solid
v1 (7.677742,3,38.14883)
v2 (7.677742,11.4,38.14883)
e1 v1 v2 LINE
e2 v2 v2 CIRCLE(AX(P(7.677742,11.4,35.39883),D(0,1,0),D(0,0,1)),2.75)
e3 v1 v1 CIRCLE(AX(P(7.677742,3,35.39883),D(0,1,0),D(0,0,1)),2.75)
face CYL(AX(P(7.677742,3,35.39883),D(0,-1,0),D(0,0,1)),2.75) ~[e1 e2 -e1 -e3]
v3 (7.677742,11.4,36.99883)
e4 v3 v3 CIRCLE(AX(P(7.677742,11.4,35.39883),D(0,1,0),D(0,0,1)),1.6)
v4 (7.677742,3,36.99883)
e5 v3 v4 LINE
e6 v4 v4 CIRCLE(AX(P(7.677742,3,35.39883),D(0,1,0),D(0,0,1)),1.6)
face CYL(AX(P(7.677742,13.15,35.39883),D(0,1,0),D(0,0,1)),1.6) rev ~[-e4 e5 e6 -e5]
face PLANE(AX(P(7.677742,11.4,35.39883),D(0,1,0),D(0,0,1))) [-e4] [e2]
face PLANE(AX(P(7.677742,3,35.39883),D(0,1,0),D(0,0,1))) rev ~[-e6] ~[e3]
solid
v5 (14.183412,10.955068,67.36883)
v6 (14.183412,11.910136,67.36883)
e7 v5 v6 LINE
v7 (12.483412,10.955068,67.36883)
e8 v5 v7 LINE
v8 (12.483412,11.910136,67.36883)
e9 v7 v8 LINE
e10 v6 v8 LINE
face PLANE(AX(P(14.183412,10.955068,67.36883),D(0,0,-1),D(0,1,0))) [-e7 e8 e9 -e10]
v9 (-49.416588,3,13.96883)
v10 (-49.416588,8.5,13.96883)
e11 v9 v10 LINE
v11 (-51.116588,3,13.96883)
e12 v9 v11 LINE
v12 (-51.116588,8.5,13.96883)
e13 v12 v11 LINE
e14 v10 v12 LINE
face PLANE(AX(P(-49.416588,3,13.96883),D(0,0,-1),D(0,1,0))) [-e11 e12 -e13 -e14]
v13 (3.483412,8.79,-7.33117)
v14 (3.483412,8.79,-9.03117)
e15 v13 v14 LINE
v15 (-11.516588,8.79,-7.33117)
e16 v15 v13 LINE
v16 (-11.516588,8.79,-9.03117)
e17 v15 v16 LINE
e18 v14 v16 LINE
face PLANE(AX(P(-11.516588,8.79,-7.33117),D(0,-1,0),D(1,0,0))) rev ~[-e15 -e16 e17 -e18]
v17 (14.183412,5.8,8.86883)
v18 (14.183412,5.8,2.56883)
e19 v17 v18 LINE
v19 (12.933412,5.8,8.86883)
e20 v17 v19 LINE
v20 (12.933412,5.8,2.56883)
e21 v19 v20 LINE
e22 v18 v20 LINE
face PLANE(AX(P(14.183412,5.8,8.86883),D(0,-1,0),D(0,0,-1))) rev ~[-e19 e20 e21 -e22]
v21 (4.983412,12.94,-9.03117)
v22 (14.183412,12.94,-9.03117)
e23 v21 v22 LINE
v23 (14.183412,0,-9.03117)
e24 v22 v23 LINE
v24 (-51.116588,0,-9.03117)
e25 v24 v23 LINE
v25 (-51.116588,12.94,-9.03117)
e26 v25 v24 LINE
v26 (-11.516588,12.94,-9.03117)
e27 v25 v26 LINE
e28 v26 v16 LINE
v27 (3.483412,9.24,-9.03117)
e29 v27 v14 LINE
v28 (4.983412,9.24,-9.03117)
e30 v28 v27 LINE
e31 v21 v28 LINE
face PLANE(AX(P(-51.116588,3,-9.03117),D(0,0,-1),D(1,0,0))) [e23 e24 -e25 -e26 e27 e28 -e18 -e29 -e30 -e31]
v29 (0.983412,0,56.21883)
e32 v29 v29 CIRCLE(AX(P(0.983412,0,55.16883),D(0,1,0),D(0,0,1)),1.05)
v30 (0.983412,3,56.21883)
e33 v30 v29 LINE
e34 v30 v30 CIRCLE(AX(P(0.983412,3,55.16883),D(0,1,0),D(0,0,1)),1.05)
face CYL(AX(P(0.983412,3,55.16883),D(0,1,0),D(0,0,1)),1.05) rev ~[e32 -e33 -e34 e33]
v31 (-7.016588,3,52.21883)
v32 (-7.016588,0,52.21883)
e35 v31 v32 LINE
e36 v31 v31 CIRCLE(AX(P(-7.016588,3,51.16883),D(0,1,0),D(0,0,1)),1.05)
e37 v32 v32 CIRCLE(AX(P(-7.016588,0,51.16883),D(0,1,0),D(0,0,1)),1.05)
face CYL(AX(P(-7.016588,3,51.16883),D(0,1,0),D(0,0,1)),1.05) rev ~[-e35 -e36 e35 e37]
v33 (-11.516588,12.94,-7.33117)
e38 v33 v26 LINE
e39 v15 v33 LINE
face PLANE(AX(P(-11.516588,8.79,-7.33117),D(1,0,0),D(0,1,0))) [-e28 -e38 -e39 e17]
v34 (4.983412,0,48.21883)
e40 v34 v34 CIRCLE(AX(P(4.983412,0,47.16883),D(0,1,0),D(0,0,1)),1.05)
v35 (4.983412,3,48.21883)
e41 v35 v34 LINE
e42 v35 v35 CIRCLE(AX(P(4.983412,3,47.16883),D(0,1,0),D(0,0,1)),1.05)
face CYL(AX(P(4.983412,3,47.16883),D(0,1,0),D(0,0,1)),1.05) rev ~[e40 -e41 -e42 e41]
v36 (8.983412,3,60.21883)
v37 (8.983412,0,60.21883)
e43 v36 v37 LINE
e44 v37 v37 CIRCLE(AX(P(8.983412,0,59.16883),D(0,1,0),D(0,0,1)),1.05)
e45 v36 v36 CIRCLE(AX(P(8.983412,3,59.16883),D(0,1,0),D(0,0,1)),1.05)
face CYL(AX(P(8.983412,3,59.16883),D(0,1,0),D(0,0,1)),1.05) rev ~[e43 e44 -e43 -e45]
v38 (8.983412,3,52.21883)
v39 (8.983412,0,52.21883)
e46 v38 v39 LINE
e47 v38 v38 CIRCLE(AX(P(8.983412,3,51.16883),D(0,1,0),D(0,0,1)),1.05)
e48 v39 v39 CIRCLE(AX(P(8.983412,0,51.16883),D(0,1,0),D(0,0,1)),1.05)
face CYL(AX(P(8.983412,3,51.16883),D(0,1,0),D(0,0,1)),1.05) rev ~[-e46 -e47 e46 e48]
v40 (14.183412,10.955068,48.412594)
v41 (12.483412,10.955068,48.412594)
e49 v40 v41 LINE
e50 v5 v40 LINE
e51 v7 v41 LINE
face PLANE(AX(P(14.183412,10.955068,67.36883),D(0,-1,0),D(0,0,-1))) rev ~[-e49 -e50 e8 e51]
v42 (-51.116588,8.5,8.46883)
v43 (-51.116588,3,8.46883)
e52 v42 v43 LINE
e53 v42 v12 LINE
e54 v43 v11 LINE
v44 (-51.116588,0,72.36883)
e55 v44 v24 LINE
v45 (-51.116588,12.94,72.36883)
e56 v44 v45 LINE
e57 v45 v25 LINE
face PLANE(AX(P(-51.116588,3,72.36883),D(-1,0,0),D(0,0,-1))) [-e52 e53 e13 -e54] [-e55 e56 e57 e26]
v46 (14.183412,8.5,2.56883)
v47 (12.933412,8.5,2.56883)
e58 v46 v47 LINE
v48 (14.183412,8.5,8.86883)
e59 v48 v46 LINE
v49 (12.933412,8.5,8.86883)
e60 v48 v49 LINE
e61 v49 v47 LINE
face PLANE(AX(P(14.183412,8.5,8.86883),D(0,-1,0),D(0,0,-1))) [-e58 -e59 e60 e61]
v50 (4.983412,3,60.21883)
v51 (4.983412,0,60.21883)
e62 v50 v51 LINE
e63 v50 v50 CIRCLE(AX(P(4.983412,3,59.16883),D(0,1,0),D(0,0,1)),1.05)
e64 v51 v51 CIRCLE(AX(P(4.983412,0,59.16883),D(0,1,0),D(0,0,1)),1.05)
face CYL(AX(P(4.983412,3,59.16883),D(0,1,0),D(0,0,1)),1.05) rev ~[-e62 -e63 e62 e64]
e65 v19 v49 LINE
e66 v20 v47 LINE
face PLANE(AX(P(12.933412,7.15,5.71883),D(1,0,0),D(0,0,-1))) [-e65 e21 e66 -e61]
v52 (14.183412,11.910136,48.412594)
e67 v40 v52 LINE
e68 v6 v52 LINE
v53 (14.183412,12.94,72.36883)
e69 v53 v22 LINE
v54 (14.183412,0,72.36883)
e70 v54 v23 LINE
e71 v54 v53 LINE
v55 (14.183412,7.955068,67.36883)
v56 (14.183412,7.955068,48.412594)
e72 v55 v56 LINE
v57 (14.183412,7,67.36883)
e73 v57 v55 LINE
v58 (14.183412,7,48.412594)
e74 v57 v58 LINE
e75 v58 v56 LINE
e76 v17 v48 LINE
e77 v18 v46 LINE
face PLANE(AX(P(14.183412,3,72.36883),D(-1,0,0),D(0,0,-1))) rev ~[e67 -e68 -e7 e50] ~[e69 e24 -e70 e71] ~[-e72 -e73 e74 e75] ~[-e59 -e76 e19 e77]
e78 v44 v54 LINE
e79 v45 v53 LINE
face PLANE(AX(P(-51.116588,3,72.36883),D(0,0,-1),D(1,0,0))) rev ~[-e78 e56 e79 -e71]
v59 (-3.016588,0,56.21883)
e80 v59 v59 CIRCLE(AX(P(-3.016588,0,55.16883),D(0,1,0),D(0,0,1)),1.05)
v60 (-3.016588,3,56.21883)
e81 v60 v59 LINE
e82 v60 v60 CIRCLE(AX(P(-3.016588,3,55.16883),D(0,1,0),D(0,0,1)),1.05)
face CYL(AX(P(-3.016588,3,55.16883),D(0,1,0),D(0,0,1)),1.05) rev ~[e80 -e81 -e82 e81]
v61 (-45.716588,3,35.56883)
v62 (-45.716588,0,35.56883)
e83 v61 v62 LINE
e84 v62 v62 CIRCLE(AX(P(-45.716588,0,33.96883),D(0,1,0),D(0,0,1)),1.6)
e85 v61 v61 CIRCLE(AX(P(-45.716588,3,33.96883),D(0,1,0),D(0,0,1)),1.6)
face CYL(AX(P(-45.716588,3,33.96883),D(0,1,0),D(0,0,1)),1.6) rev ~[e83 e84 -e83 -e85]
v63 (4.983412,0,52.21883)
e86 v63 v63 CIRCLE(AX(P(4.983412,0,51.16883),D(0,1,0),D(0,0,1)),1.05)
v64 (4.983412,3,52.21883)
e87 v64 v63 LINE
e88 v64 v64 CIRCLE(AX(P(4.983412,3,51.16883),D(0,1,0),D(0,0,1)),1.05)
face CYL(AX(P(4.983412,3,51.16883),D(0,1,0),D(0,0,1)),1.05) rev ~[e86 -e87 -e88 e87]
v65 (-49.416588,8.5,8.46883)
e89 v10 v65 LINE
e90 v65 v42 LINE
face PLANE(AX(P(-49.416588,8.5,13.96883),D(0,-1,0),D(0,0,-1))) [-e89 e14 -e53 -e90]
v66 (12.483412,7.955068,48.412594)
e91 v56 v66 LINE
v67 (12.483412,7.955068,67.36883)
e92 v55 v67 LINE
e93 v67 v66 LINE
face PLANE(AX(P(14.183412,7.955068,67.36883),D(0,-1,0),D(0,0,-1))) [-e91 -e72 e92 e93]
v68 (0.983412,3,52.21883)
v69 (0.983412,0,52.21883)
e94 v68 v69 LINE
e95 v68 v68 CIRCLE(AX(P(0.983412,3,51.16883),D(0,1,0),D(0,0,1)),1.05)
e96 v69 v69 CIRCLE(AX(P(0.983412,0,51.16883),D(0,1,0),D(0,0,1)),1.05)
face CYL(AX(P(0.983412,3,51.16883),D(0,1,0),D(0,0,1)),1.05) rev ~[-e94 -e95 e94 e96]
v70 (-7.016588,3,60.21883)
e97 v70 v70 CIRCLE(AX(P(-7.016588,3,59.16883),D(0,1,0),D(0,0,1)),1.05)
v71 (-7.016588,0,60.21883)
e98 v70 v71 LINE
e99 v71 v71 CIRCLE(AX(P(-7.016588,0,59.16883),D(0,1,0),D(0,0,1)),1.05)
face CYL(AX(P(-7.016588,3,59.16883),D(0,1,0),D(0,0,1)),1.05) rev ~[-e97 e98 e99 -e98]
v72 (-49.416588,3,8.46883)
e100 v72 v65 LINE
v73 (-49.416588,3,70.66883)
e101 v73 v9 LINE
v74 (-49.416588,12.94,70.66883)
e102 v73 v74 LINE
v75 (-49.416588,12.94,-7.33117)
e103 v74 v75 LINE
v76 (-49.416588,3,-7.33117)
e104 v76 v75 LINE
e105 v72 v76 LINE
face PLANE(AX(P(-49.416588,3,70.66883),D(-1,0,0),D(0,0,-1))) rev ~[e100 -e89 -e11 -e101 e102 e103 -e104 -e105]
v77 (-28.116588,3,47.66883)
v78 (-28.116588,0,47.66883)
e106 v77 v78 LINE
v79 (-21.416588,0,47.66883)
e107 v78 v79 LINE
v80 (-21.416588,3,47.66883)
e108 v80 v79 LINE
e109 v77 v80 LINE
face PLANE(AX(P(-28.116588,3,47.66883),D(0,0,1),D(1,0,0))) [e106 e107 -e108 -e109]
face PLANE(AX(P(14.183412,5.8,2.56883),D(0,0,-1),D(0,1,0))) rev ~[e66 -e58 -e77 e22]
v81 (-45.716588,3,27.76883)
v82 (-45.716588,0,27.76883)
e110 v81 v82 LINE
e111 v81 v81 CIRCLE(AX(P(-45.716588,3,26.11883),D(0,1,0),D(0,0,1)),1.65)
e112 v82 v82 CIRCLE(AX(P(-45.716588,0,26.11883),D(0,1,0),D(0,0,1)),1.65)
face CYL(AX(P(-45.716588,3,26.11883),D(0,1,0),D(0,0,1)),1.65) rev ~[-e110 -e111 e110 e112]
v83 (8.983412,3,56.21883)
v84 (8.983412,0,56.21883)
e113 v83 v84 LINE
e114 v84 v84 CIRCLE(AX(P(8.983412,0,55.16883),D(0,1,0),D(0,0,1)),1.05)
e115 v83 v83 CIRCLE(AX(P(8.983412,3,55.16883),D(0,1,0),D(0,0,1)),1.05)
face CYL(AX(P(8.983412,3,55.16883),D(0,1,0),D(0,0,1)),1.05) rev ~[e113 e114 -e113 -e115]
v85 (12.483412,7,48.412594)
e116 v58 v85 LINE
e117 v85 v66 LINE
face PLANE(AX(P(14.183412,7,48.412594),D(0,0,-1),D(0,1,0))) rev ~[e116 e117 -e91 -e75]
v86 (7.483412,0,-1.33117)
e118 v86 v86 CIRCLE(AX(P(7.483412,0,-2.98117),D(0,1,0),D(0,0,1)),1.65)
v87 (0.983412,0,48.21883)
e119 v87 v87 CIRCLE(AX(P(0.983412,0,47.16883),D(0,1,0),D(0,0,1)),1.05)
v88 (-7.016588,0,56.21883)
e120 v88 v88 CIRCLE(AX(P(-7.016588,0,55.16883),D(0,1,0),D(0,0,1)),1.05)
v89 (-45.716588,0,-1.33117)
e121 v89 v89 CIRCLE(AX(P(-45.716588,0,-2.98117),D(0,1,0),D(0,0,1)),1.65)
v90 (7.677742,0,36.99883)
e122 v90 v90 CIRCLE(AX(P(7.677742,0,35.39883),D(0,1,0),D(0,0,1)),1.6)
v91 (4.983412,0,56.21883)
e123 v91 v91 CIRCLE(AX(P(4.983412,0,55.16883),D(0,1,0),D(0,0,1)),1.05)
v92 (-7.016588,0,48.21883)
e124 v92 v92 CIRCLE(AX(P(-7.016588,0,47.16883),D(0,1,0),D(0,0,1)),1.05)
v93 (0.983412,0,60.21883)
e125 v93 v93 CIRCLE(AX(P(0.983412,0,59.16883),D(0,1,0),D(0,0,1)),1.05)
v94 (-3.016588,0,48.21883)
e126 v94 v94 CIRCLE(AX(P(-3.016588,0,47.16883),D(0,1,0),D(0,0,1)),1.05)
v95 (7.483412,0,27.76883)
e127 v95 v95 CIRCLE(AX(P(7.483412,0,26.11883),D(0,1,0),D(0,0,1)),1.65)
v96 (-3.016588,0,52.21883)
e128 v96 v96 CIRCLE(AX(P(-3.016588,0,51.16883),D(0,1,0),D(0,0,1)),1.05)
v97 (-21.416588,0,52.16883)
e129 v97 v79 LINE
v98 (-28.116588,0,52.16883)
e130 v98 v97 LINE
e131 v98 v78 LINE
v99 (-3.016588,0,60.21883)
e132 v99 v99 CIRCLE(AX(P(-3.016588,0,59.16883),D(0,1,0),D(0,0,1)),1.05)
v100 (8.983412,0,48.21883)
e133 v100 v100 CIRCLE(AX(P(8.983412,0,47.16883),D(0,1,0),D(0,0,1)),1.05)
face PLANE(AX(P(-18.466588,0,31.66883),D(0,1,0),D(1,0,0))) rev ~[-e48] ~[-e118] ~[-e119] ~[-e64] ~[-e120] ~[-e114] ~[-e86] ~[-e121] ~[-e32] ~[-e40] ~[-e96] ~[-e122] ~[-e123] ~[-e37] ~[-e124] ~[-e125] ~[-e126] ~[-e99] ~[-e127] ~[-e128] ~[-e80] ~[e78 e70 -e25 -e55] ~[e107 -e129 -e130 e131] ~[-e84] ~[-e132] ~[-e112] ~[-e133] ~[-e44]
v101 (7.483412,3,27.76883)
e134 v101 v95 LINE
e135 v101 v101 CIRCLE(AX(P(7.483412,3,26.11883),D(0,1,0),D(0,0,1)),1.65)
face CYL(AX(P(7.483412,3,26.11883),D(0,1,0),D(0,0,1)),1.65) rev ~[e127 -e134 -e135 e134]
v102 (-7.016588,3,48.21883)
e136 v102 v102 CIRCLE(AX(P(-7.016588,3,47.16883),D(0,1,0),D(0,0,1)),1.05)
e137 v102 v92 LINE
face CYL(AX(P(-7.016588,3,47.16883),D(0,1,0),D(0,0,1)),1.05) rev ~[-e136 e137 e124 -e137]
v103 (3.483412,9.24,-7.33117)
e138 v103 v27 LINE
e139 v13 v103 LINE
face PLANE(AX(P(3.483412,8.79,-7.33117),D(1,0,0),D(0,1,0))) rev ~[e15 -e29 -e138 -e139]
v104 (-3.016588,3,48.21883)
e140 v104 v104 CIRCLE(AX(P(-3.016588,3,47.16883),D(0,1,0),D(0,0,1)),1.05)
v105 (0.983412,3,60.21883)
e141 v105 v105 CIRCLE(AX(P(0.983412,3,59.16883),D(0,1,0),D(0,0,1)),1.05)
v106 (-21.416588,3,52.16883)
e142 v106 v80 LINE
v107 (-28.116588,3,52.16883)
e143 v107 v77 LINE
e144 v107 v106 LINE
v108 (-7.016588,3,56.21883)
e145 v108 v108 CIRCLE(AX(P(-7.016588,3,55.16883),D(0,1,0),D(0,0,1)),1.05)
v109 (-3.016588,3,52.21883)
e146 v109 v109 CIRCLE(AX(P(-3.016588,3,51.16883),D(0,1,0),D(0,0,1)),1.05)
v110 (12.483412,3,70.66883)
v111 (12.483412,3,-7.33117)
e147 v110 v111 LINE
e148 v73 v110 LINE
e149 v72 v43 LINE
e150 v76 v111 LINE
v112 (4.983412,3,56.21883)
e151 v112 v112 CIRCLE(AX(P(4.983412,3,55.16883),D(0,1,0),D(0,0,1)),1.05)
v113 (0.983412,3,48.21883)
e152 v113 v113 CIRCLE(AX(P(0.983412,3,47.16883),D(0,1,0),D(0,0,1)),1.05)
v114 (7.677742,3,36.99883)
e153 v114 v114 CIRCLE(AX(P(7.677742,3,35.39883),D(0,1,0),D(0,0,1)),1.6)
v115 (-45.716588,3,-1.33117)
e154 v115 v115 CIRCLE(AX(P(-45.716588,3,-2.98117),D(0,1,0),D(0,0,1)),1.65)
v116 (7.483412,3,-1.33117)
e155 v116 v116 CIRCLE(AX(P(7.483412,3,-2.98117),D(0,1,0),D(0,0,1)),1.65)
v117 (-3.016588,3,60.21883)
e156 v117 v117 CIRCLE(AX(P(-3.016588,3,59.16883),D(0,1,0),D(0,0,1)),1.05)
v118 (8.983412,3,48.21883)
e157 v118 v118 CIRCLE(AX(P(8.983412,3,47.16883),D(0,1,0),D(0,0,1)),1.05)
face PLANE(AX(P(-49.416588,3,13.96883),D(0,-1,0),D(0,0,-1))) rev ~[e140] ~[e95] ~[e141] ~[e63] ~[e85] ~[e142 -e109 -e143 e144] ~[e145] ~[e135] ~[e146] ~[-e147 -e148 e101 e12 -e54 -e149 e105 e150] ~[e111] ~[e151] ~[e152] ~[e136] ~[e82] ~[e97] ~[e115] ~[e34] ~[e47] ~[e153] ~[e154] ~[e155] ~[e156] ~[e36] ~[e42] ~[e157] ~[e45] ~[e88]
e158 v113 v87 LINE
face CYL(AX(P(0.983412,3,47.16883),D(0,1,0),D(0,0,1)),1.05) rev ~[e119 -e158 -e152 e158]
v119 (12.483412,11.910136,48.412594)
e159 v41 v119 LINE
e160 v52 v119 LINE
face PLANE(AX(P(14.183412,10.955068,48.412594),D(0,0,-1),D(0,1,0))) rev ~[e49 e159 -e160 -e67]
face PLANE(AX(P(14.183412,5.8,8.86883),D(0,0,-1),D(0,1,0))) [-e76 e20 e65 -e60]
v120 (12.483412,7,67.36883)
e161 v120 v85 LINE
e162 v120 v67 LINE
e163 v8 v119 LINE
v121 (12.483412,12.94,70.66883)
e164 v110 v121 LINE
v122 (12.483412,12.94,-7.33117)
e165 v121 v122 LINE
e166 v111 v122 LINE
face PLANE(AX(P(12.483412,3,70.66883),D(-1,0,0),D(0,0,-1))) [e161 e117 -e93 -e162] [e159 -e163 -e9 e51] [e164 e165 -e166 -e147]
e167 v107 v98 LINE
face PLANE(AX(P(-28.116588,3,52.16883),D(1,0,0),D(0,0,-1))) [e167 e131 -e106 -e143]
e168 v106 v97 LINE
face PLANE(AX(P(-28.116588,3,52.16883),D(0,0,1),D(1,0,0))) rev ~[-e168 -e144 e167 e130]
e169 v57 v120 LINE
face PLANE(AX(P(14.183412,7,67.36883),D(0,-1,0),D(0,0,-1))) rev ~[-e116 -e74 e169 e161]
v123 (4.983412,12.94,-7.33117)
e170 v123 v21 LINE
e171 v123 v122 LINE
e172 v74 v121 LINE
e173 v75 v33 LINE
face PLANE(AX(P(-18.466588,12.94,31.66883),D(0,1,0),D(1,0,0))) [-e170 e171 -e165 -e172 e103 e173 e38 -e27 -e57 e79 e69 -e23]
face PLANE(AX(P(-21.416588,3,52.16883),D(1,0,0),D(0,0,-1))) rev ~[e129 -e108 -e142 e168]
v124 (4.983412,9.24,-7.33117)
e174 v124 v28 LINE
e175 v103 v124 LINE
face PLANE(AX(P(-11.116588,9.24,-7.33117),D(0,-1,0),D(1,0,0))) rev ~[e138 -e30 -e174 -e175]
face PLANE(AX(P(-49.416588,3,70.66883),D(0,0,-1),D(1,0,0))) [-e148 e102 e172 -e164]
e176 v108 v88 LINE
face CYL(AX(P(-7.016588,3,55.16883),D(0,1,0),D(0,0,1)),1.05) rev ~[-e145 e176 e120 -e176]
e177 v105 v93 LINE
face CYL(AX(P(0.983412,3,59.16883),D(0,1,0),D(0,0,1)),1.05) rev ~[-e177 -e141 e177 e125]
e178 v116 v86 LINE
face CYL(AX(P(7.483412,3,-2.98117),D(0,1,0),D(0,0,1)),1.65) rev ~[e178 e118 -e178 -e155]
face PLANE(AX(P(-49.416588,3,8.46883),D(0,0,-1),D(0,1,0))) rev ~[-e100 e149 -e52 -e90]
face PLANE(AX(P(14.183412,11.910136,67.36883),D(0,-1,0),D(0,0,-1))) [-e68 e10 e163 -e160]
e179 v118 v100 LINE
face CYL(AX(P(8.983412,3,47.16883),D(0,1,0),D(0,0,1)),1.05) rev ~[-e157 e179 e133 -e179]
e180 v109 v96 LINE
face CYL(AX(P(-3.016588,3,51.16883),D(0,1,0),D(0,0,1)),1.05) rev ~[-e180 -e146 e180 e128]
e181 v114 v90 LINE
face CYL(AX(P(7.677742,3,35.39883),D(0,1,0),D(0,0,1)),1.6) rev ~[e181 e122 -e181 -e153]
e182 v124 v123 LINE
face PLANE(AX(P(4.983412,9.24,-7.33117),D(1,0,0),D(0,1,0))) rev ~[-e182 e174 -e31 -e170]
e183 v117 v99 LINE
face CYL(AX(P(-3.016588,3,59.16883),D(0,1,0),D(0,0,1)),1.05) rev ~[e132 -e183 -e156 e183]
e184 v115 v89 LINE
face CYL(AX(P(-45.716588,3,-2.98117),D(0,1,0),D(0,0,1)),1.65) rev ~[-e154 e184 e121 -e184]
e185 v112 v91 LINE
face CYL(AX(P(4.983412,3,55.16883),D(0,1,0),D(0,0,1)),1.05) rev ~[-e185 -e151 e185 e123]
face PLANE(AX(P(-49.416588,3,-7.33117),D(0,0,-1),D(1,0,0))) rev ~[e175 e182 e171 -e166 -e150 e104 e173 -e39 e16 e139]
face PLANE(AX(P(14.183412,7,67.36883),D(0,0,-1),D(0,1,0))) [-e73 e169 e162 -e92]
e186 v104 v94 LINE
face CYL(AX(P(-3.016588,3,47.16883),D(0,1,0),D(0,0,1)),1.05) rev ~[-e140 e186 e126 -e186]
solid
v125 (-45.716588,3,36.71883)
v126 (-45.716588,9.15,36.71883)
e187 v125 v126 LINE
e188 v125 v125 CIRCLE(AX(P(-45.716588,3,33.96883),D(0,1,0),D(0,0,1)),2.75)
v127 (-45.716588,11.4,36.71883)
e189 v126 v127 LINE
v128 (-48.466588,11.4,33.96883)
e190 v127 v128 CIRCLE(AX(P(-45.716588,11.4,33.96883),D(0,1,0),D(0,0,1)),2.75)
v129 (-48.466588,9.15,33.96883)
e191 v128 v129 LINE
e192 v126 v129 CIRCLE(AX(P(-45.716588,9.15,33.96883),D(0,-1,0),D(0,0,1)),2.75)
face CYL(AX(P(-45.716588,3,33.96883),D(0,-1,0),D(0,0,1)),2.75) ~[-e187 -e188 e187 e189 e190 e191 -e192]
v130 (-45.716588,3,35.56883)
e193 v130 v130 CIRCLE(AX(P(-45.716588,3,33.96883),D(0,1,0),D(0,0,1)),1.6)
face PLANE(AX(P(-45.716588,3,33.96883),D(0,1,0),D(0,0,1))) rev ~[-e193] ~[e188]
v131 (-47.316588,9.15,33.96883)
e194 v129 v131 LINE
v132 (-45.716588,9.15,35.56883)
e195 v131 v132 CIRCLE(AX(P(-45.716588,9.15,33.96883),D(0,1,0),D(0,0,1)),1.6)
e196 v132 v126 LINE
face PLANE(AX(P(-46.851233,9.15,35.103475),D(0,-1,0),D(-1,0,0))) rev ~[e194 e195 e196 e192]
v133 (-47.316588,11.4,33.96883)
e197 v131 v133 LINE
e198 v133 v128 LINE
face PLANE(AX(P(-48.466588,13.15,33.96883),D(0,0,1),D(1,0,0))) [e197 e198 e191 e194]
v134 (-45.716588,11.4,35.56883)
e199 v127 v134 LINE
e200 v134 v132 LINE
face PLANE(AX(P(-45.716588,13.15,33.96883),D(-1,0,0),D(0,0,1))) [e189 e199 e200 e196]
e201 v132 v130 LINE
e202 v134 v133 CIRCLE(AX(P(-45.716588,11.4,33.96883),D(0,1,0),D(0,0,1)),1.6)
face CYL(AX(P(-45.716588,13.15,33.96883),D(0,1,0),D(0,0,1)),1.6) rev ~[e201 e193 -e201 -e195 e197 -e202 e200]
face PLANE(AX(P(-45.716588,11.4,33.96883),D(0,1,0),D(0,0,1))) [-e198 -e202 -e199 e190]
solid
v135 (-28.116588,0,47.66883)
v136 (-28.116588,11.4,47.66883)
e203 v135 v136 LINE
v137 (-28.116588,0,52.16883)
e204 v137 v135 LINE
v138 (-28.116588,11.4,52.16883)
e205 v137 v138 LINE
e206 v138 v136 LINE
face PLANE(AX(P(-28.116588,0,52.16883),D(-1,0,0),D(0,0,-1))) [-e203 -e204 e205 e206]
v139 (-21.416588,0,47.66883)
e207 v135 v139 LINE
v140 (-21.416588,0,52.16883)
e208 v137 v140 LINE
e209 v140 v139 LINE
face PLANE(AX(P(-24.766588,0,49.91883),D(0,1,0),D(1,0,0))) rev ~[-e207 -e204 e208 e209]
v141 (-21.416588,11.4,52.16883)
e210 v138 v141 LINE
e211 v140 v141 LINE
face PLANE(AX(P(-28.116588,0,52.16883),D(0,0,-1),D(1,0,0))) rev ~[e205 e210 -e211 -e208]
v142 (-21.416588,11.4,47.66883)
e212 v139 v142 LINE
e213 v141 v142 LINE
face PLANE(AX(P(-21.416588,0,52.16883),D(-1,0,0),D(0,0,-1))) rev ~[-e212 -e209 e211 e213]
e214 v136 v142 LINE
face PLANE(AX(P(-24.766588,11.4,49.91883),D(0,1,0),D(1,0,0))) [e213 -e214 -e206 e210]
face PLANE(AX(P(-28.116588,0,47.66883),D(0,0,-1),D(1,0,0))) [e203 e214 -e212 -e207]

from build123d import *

# Parameters (mm, degrees)
SKETCH2_W                = 65.3
SKETCH2_H                = 81.4
BOSS_EXTRUDE1_DEPTH      = 3
SKETCH3_W                = 65.3
SKETCH3_H                = 81.4
SKETCH3_W_2              = 61.9
SKETCH3_H_2              = 78
BOSS_EXTRUDE2_DEPTH      = 9.94
SKETCH4_R                = 1.65
SKETCH4_R_2              = 1.6
SKETCH4_W                = 6.7
SKETCH4_H                = 4.5
CUT_EXTRUDE1_DEPTH       = 90.156922291
BOSS_EXTRUDE3_DEPTH      = 10.15
BOSS_EXTRUDE3_DEPTH_BACK = 3
SKETCH5_W                = 6.7
SKETCH5_H                = 4.5
SKETCH6_R                = 2.75
BOSS_EXTRUDE4_DEPTH      = 10.15
BOSS_EXTRUDE4_2_DEPTH    = 10.15
CUT_EXTRUDE2_DEPTH       = 4
SKETCH17_R               = 1.6
CUT_EXTRUDE11_DEPTH      = 90.571623254
SKETCH19_W               = 5.5
SKETCH19_H               = 5.5
CUT_EXTRUDE12_DEPTH      = 98.237493387
SKETCH20_W               = 15
SKETCH20_H               = 4.15
CUT_EXTRUDE13_DEPTH      = 96.592458239
SKETCH21_R               = 2.75
CUT_EXTRUDE14_DEPTH      = 1.75
SKETCH22_R               = 2.75
CUT_EXTRUDE15_DEPTH      = 1.75
SKETCH23_W               = 6.7
SKETCH23_H               = 4.5
CUT_EXTRUDE16_DEPTH      = 1.75
SKETCH10_R               = 1.05
CUT_EXTRUDE5_DEPTH       = 90.156922291
SKETCH11_W               = 6.3
SKETCH11_H               = 2.7
CUT_EXTRUDE6_DEPTH       = 1.25
SKETCH15_W               = 16.1
SKETCH15_H               = 3.7
CUT_EXTRUDE9_DEPTH       = 96.563796347
SKETCH16_W               = 18.956236151
SKETCH16_H               = 0.955067826
CUT_EXTRUDE10_DEPTH      = 1.7


with BuildPart() as part:
    # Sketch2 → Boss-Extrude1 (new body)
    with BuildSketch(Plane(origin=(0, 0, 0), x_dir=(1, 0, 0), z_dir=(0, 1, 0))):
        with Locations((-18.466588034, -31.668830446)):
            Rectangle(SKETCH2_W, SKETCH2_H)
    extrude(amount=BOSS_EXTRUDE1_DEPTH)

    # Sketch3 → Boss-Extrude2 (add)
    with BuildSketch(Plane(origin=(0, 3, 0), x_dir=(1, 0, 0), z_dir=(0, 1, 0))):
        with Locations((-18.466588034, -31.668830446)):
            Rectangle(SKETCH3_W, SKETCH3_H)
        with Locations((-18.466588034, -31.668830446)):
            Rectangle(SKETCH3_W_2, SKETCH3_H_2, mode=Mode.SUBTRACT)
    extrude(amount=BOSS_EXTRUDE2_DEPTH)

    # Sketch4 → Cut-Extrude1 (cut, through all)
    with BuildSketch(Plane(origin=(0, 3, 0), x_dir=(1, 0, 0), z_dir=(0, 1, 0))):
        with Locations(Location((-45.716588034, 2.981169554, 0), (0, 0, 270))):
            Circle(SKETCH4_R)
        with Locations(Location((-45.716588034, -26.118830446, 0), (0, 0, 270))):
            Circle(SKETCH4_R)
        with Locations(Location((7.483411966, 2.981169554, 0), (0, 0, 270))):
            Circle(SKETCH4_R)
        with Locations(Location((7.483411966, -26.118830446, 0), (0, 0, 270))):
            Circle(SKETCH4_R)
        with Locations(Location((-45.716588034, -33.968830446, 0), (0, 0, 270))):
            Circle(SKETCH4_R_2)
        with Locations(Location((7.677742326, -35.398830446, 0), (0, 0, 270))):
            Circle(SKETCH4_R_2)
        with Locations((-24.766588034, -49.918830446)):
            Rectangle(SKETCH4_W, SKETCH4_H)
    extrude(amount=-CUT_EXTRUDE1_DEPTH, mode=Mode.SUBTRACT)

    # Sketch19 → Cut-Extrude12 (cut, through all)
    with BuildSketch(Plane(origin=(-49.416588034, 0, 0), x_dir=(0, 0, -1), z_dir=(1, 0, 0))):
        with Locations((-11.218830446, 5.75)):
            Rectangle(SKETCH19_W, SKETCH19_H)
    extrude(amount=-CUT_EXTRUDE12_DEPTH, mode=Mode.SUBTRACT)

    # Sketch20 → Cut-Extrude13 (cut, through all)
    with BuildSketch(Plane.XY.offset(-7.331169554)):
        with Locations((-4.016588034, 10.865)):
            Rectangle(SKETCH20_W, SKETCH20_H)
    extrude(amount=-CUT_EXTRUDE13_DEPTH, mode=Mode.SUBTRACT)

    # Sketch10 → Cut-Extrude5 (cut, through all)
    with BuildSketch(Plane(origin=(0, 3, 0), x_dir=(1, 0, 0), z_dir=(0, 1, 0))):
        with Locations(Location((-7.016588034, -47.168830446, 0), (0, 0, 270))):
            Circle(SKETCH10_R)
        with Locations(Location((-3.016588034, -47.168830446, 0), (0, 0, 270))):
            Circle(SKETCH10_R)
        with Locations(Location((0.983411966, -47.168830446, 0), (0, 0, 270))):
            Circle(SKETCH10_R)
        with Locations(Location((4.983411966, -47.168830446, 0), (0, 0, 270))):
            Circle(SKETCH10_R)
        with Locations(Location((8.983411966, -47.168830446, 0), (0, 0, 270))):
            Circle(SKETCH10_R)
        with Locations(Location((-3.016588034, -51.168830446, 0), (0, 0, 270))):
            Circle(SKETCH10_R)
        with Locations(Location((0.983411966, -51.168830446, 0), (0, 0, 270))):
            Circle(SKETCH10_R)
        with Locations(Location((4.983411966, -51.168830446, 0), (0, 0, 270))):
            Circle(SKETCH10_R)
        with Locations(Location((8.983411966, -51.168830446, 0), (0, 0, 270))):
            Circle(SKETCH10_R)
        with Locations(Location((-3.016588034, -55.168830446, 0), (0, 0, 270))):
            Circle(SKETCH10_R)
        with Locations(Location((0.983411966, -55.168830446, 0), (0, 0, 270))):
            Circle(SKETCH10_R)
        with Locations(Location((4.983411966, -55.168830446, 0), (0, 0, 270))):
            Circle(SKETCH10_R)
        with Locations(Location((8.983411966, -55.168830446, 0), (0, 0, 270))):
            Circle(SKETCH10_R)
        with Locations(Location((-3.016588034, -59.168830446, 0), (0, 0, 270))):
            Circle(SKETCH10_R)
        with Locations(Location((0.983411966, -59.168830446, 0), (0, 0, 270))):
            Circle(SKETCH10_R)
        with Locations(Location((4.983411966, -59.168830446, 0), (0, 0, 270))):
            Circle(SKETCH10_R)
        with Locations(Location((8.983411966, -59.168830446, 0), (0, 0, 270))):
            Circle(SKETCH10_R)
        with Locations(Location((-7.016588034, -51.168830446, 0), (0, 0, 270))):
            Circle(SKETCH10_R)
        with Locations(Location((-7.016588034, -55.168830446, 0), (0, 0, 270))):
            Circle(SKETCH10_R)
        with Locations(Location((-7.016588034, -59.168830446, 0), (0, 0, 270))):
            Circle(SKETCH10_R)
    extrude(amount=-CUT_EXTRUDE5_DEPTH, mode=Mode.SUBTRACT)

    # Sketch11 → Cut-Extrude6 (cut)
    with BuildSketch(Plane(origin=(14.183411966, 0, 0), x_dir=(0, 0, -1), z_dir=(1, 0, 0))):
        with Locations((-5.718830446, 7.15)):
            Rectangle(SKETCH11_W, SKETCH11_H)
    extrude(amount=-CUT_EXTRUDE6_DEPTH, mode=Mode.SUBTRACT)

    # Sketch15 → Cut-Extrude9 (cut, through all)
    with BuildSketch(Plane.XY.offset(-7.331169554)):
        with Locations((-3.066588034, 11.09)):
            Rectangle(SKETCH15_W, SKETCH15_H)
    extrude(amount=-CUT_EXTRUDE9_DEPTH, mode=Mode.SUBTRACT)

    # Sketch16 → Cut-Extrude10 (cut)
    with BuildSketch(Plane(origin=(14.183411966, 0, 0), x_dir=(0, 0, -1), z_dir=(1, 0, 0))):
        with Locations((-57.890712371, 11.432601739)):
            Rectangle(SKETCH16_W, SKETCH16_H)
        with Locations((-57.890712371, 7.477533913)):
            Rectangle(SKETCH16_W, SKETCH16_H)
    extrude(amount=-CUT_EXTRUDE10_DEPTH, mode=Mode.SUBTRACT)


with BuildPart() as body_2:
    # Sketch5 → Boss-Extrude3 (new, two sides: drawn at the far end of the back side and taken through both)
    with BuildSketch(Plane(origin=(0, 3, 0), x_dir=(1, 0, 0), z_dir=(0, 1, 0)).offset(-BOSS_EXTRUDE3_DEPTH_BACK)):
        with Locations((-24.766588034, -49.918830446)):
            Rectangle(SKETCH5_W, SKETCH5_H)
    extrude(amount=BOSS_EXTRUDE3_DEPTH + BOSS_EXTRUDE3_DEPTH_BACK)

    # Sketch23 → Cut-Extrude16 (cut)
    with BuildSketch(Plane(origin=(0, 13.15, 0), x_dir=(1, 0, 0), z_dir=(0, 1, 0))):
        with Locations((-24.766588034, -49.918830446)):
            Rectangle(SKETCH23_W, SKETCH23_H)
    extrude(amount=-CUT_EXTRUDE16_DEPTH, mode=Mode.SUBTRACT)


with BuildPart() as body_3:
    # Sketch6 → Boss-Extrude4 (new body)
    with BuildSketch(Plane(origin=(0, 3, 0), x_dir=(1, 0, 0), z_dir=(0, 1, 0))):
        with Locations(Location((-45.716588034, -33.968830446, 0), (0, 0, 270))):
            Circle(SKETCH6_R)
    extrude(amount=BOSS_EXTRUDE4_DEPTH)

    # Sketch7 → Cut-Extrude2 (cut)
    with BuildSketch(Plane(origin=(0, 13.15, 0), x_dir=(1, 0, 0), z_dir=(0, 1, 0))):
        with BuildLine():
            Line((-48.466588034, -33.968830446), (-45.716588034, -33.968830446))
            Line((-45.716588034, -33.968830446), (-45.716588034, -36.718830446))
            ThreePointArc((-45.716588034, -36.718830446), (-47.661131682, -35.913374094), (-48.466588034, -33.968830446))
        make_face()
    extrude(amount=-CUT_EXTRUDE2_DEPTH, mode=Mode.SUBTRACT)


with BuildPart() as body_4:
    # Sketch6 → Boss-Extrude4 2 (new body)
    with BuildSketch(Plane(origin=(0, 3, 0), x_dir=(1, 0, 0), z_dir=(0, 1, 0))):
        with Locations(Location((7.677742326, -35.398830446, 0), (0, 0, 270))):
            Circle(SKETCH6_R)
    extrude(amount=BOSS_EXTRUDE4_2_DEPTH)


with BuildPart() as cut_extrude11_tool:
    # Sketch17 → Cut-Extrude11 (new, through all)
    with BuildSketch(Plane(origin=(0, 13.15, 0), x_dir=(1, 0, 0), z_dir=(0, 1, 0))):
        with Locations(Location((-45.716588034, -33.968830446, 0), (0, 0, 270))):
            Circle(SKETCH17_R)
        with Locations(Location((7.677742326, -35.398830446, 0), (0, 0, 270))):
            Circle(SKETCH17_R)
    extrude(amount=-CUT_EXTRUDE11_DEPTH)


with BuildPart() as body_3_1:
    add(body_3.part)

    # Cut-Extrude11: cut by cut_extrude11_tool
    add(cut_extrude11_tool.part, mode=Mode.SUBTRACT)

    # Sketch21 → Cut-Extrude14 (cut)
    with BuildSketch(Plane(origin=(0, 13.15, 0), x_dir=(1, 0, 0), z_dir=(0, 1, 0))):
        with Locations(Location((-45.716588034, -33.968830446, 0), (0, 0, 270))):
            Circle(SKETCH21_R)
    extrude(amount=-CUT_EXTRUDE14_DEPTH, mode=Mode.SUBTRACT)


with BuildPart() as body_4_1:
    add(body_4.part)

    # Cut-Extrude11: cut by cut_extrude11_tool
    add(cut_extrude11_tool.part, mode=Mode.SUBTRACT)

    # Sketch22 → Cut-Extrude15 (cut)
    with BuildSketch(Plane(origin=(0, 13.15, 0), x_dir=(1, 0, 0), z_dir=(0, 1, 0))):
        with Locations(Location((7.677742326, -35.398830446, 0), (0, 0, 270))):
            Circle(SKETCH22_R)
    extrude(amount=-CUT_EXTRUDE15_DEPTH, mode=Mode.SUBTRACT)


solid = Compound([part.part, body_2.part, body_3_1.part, body_4_1.part])
